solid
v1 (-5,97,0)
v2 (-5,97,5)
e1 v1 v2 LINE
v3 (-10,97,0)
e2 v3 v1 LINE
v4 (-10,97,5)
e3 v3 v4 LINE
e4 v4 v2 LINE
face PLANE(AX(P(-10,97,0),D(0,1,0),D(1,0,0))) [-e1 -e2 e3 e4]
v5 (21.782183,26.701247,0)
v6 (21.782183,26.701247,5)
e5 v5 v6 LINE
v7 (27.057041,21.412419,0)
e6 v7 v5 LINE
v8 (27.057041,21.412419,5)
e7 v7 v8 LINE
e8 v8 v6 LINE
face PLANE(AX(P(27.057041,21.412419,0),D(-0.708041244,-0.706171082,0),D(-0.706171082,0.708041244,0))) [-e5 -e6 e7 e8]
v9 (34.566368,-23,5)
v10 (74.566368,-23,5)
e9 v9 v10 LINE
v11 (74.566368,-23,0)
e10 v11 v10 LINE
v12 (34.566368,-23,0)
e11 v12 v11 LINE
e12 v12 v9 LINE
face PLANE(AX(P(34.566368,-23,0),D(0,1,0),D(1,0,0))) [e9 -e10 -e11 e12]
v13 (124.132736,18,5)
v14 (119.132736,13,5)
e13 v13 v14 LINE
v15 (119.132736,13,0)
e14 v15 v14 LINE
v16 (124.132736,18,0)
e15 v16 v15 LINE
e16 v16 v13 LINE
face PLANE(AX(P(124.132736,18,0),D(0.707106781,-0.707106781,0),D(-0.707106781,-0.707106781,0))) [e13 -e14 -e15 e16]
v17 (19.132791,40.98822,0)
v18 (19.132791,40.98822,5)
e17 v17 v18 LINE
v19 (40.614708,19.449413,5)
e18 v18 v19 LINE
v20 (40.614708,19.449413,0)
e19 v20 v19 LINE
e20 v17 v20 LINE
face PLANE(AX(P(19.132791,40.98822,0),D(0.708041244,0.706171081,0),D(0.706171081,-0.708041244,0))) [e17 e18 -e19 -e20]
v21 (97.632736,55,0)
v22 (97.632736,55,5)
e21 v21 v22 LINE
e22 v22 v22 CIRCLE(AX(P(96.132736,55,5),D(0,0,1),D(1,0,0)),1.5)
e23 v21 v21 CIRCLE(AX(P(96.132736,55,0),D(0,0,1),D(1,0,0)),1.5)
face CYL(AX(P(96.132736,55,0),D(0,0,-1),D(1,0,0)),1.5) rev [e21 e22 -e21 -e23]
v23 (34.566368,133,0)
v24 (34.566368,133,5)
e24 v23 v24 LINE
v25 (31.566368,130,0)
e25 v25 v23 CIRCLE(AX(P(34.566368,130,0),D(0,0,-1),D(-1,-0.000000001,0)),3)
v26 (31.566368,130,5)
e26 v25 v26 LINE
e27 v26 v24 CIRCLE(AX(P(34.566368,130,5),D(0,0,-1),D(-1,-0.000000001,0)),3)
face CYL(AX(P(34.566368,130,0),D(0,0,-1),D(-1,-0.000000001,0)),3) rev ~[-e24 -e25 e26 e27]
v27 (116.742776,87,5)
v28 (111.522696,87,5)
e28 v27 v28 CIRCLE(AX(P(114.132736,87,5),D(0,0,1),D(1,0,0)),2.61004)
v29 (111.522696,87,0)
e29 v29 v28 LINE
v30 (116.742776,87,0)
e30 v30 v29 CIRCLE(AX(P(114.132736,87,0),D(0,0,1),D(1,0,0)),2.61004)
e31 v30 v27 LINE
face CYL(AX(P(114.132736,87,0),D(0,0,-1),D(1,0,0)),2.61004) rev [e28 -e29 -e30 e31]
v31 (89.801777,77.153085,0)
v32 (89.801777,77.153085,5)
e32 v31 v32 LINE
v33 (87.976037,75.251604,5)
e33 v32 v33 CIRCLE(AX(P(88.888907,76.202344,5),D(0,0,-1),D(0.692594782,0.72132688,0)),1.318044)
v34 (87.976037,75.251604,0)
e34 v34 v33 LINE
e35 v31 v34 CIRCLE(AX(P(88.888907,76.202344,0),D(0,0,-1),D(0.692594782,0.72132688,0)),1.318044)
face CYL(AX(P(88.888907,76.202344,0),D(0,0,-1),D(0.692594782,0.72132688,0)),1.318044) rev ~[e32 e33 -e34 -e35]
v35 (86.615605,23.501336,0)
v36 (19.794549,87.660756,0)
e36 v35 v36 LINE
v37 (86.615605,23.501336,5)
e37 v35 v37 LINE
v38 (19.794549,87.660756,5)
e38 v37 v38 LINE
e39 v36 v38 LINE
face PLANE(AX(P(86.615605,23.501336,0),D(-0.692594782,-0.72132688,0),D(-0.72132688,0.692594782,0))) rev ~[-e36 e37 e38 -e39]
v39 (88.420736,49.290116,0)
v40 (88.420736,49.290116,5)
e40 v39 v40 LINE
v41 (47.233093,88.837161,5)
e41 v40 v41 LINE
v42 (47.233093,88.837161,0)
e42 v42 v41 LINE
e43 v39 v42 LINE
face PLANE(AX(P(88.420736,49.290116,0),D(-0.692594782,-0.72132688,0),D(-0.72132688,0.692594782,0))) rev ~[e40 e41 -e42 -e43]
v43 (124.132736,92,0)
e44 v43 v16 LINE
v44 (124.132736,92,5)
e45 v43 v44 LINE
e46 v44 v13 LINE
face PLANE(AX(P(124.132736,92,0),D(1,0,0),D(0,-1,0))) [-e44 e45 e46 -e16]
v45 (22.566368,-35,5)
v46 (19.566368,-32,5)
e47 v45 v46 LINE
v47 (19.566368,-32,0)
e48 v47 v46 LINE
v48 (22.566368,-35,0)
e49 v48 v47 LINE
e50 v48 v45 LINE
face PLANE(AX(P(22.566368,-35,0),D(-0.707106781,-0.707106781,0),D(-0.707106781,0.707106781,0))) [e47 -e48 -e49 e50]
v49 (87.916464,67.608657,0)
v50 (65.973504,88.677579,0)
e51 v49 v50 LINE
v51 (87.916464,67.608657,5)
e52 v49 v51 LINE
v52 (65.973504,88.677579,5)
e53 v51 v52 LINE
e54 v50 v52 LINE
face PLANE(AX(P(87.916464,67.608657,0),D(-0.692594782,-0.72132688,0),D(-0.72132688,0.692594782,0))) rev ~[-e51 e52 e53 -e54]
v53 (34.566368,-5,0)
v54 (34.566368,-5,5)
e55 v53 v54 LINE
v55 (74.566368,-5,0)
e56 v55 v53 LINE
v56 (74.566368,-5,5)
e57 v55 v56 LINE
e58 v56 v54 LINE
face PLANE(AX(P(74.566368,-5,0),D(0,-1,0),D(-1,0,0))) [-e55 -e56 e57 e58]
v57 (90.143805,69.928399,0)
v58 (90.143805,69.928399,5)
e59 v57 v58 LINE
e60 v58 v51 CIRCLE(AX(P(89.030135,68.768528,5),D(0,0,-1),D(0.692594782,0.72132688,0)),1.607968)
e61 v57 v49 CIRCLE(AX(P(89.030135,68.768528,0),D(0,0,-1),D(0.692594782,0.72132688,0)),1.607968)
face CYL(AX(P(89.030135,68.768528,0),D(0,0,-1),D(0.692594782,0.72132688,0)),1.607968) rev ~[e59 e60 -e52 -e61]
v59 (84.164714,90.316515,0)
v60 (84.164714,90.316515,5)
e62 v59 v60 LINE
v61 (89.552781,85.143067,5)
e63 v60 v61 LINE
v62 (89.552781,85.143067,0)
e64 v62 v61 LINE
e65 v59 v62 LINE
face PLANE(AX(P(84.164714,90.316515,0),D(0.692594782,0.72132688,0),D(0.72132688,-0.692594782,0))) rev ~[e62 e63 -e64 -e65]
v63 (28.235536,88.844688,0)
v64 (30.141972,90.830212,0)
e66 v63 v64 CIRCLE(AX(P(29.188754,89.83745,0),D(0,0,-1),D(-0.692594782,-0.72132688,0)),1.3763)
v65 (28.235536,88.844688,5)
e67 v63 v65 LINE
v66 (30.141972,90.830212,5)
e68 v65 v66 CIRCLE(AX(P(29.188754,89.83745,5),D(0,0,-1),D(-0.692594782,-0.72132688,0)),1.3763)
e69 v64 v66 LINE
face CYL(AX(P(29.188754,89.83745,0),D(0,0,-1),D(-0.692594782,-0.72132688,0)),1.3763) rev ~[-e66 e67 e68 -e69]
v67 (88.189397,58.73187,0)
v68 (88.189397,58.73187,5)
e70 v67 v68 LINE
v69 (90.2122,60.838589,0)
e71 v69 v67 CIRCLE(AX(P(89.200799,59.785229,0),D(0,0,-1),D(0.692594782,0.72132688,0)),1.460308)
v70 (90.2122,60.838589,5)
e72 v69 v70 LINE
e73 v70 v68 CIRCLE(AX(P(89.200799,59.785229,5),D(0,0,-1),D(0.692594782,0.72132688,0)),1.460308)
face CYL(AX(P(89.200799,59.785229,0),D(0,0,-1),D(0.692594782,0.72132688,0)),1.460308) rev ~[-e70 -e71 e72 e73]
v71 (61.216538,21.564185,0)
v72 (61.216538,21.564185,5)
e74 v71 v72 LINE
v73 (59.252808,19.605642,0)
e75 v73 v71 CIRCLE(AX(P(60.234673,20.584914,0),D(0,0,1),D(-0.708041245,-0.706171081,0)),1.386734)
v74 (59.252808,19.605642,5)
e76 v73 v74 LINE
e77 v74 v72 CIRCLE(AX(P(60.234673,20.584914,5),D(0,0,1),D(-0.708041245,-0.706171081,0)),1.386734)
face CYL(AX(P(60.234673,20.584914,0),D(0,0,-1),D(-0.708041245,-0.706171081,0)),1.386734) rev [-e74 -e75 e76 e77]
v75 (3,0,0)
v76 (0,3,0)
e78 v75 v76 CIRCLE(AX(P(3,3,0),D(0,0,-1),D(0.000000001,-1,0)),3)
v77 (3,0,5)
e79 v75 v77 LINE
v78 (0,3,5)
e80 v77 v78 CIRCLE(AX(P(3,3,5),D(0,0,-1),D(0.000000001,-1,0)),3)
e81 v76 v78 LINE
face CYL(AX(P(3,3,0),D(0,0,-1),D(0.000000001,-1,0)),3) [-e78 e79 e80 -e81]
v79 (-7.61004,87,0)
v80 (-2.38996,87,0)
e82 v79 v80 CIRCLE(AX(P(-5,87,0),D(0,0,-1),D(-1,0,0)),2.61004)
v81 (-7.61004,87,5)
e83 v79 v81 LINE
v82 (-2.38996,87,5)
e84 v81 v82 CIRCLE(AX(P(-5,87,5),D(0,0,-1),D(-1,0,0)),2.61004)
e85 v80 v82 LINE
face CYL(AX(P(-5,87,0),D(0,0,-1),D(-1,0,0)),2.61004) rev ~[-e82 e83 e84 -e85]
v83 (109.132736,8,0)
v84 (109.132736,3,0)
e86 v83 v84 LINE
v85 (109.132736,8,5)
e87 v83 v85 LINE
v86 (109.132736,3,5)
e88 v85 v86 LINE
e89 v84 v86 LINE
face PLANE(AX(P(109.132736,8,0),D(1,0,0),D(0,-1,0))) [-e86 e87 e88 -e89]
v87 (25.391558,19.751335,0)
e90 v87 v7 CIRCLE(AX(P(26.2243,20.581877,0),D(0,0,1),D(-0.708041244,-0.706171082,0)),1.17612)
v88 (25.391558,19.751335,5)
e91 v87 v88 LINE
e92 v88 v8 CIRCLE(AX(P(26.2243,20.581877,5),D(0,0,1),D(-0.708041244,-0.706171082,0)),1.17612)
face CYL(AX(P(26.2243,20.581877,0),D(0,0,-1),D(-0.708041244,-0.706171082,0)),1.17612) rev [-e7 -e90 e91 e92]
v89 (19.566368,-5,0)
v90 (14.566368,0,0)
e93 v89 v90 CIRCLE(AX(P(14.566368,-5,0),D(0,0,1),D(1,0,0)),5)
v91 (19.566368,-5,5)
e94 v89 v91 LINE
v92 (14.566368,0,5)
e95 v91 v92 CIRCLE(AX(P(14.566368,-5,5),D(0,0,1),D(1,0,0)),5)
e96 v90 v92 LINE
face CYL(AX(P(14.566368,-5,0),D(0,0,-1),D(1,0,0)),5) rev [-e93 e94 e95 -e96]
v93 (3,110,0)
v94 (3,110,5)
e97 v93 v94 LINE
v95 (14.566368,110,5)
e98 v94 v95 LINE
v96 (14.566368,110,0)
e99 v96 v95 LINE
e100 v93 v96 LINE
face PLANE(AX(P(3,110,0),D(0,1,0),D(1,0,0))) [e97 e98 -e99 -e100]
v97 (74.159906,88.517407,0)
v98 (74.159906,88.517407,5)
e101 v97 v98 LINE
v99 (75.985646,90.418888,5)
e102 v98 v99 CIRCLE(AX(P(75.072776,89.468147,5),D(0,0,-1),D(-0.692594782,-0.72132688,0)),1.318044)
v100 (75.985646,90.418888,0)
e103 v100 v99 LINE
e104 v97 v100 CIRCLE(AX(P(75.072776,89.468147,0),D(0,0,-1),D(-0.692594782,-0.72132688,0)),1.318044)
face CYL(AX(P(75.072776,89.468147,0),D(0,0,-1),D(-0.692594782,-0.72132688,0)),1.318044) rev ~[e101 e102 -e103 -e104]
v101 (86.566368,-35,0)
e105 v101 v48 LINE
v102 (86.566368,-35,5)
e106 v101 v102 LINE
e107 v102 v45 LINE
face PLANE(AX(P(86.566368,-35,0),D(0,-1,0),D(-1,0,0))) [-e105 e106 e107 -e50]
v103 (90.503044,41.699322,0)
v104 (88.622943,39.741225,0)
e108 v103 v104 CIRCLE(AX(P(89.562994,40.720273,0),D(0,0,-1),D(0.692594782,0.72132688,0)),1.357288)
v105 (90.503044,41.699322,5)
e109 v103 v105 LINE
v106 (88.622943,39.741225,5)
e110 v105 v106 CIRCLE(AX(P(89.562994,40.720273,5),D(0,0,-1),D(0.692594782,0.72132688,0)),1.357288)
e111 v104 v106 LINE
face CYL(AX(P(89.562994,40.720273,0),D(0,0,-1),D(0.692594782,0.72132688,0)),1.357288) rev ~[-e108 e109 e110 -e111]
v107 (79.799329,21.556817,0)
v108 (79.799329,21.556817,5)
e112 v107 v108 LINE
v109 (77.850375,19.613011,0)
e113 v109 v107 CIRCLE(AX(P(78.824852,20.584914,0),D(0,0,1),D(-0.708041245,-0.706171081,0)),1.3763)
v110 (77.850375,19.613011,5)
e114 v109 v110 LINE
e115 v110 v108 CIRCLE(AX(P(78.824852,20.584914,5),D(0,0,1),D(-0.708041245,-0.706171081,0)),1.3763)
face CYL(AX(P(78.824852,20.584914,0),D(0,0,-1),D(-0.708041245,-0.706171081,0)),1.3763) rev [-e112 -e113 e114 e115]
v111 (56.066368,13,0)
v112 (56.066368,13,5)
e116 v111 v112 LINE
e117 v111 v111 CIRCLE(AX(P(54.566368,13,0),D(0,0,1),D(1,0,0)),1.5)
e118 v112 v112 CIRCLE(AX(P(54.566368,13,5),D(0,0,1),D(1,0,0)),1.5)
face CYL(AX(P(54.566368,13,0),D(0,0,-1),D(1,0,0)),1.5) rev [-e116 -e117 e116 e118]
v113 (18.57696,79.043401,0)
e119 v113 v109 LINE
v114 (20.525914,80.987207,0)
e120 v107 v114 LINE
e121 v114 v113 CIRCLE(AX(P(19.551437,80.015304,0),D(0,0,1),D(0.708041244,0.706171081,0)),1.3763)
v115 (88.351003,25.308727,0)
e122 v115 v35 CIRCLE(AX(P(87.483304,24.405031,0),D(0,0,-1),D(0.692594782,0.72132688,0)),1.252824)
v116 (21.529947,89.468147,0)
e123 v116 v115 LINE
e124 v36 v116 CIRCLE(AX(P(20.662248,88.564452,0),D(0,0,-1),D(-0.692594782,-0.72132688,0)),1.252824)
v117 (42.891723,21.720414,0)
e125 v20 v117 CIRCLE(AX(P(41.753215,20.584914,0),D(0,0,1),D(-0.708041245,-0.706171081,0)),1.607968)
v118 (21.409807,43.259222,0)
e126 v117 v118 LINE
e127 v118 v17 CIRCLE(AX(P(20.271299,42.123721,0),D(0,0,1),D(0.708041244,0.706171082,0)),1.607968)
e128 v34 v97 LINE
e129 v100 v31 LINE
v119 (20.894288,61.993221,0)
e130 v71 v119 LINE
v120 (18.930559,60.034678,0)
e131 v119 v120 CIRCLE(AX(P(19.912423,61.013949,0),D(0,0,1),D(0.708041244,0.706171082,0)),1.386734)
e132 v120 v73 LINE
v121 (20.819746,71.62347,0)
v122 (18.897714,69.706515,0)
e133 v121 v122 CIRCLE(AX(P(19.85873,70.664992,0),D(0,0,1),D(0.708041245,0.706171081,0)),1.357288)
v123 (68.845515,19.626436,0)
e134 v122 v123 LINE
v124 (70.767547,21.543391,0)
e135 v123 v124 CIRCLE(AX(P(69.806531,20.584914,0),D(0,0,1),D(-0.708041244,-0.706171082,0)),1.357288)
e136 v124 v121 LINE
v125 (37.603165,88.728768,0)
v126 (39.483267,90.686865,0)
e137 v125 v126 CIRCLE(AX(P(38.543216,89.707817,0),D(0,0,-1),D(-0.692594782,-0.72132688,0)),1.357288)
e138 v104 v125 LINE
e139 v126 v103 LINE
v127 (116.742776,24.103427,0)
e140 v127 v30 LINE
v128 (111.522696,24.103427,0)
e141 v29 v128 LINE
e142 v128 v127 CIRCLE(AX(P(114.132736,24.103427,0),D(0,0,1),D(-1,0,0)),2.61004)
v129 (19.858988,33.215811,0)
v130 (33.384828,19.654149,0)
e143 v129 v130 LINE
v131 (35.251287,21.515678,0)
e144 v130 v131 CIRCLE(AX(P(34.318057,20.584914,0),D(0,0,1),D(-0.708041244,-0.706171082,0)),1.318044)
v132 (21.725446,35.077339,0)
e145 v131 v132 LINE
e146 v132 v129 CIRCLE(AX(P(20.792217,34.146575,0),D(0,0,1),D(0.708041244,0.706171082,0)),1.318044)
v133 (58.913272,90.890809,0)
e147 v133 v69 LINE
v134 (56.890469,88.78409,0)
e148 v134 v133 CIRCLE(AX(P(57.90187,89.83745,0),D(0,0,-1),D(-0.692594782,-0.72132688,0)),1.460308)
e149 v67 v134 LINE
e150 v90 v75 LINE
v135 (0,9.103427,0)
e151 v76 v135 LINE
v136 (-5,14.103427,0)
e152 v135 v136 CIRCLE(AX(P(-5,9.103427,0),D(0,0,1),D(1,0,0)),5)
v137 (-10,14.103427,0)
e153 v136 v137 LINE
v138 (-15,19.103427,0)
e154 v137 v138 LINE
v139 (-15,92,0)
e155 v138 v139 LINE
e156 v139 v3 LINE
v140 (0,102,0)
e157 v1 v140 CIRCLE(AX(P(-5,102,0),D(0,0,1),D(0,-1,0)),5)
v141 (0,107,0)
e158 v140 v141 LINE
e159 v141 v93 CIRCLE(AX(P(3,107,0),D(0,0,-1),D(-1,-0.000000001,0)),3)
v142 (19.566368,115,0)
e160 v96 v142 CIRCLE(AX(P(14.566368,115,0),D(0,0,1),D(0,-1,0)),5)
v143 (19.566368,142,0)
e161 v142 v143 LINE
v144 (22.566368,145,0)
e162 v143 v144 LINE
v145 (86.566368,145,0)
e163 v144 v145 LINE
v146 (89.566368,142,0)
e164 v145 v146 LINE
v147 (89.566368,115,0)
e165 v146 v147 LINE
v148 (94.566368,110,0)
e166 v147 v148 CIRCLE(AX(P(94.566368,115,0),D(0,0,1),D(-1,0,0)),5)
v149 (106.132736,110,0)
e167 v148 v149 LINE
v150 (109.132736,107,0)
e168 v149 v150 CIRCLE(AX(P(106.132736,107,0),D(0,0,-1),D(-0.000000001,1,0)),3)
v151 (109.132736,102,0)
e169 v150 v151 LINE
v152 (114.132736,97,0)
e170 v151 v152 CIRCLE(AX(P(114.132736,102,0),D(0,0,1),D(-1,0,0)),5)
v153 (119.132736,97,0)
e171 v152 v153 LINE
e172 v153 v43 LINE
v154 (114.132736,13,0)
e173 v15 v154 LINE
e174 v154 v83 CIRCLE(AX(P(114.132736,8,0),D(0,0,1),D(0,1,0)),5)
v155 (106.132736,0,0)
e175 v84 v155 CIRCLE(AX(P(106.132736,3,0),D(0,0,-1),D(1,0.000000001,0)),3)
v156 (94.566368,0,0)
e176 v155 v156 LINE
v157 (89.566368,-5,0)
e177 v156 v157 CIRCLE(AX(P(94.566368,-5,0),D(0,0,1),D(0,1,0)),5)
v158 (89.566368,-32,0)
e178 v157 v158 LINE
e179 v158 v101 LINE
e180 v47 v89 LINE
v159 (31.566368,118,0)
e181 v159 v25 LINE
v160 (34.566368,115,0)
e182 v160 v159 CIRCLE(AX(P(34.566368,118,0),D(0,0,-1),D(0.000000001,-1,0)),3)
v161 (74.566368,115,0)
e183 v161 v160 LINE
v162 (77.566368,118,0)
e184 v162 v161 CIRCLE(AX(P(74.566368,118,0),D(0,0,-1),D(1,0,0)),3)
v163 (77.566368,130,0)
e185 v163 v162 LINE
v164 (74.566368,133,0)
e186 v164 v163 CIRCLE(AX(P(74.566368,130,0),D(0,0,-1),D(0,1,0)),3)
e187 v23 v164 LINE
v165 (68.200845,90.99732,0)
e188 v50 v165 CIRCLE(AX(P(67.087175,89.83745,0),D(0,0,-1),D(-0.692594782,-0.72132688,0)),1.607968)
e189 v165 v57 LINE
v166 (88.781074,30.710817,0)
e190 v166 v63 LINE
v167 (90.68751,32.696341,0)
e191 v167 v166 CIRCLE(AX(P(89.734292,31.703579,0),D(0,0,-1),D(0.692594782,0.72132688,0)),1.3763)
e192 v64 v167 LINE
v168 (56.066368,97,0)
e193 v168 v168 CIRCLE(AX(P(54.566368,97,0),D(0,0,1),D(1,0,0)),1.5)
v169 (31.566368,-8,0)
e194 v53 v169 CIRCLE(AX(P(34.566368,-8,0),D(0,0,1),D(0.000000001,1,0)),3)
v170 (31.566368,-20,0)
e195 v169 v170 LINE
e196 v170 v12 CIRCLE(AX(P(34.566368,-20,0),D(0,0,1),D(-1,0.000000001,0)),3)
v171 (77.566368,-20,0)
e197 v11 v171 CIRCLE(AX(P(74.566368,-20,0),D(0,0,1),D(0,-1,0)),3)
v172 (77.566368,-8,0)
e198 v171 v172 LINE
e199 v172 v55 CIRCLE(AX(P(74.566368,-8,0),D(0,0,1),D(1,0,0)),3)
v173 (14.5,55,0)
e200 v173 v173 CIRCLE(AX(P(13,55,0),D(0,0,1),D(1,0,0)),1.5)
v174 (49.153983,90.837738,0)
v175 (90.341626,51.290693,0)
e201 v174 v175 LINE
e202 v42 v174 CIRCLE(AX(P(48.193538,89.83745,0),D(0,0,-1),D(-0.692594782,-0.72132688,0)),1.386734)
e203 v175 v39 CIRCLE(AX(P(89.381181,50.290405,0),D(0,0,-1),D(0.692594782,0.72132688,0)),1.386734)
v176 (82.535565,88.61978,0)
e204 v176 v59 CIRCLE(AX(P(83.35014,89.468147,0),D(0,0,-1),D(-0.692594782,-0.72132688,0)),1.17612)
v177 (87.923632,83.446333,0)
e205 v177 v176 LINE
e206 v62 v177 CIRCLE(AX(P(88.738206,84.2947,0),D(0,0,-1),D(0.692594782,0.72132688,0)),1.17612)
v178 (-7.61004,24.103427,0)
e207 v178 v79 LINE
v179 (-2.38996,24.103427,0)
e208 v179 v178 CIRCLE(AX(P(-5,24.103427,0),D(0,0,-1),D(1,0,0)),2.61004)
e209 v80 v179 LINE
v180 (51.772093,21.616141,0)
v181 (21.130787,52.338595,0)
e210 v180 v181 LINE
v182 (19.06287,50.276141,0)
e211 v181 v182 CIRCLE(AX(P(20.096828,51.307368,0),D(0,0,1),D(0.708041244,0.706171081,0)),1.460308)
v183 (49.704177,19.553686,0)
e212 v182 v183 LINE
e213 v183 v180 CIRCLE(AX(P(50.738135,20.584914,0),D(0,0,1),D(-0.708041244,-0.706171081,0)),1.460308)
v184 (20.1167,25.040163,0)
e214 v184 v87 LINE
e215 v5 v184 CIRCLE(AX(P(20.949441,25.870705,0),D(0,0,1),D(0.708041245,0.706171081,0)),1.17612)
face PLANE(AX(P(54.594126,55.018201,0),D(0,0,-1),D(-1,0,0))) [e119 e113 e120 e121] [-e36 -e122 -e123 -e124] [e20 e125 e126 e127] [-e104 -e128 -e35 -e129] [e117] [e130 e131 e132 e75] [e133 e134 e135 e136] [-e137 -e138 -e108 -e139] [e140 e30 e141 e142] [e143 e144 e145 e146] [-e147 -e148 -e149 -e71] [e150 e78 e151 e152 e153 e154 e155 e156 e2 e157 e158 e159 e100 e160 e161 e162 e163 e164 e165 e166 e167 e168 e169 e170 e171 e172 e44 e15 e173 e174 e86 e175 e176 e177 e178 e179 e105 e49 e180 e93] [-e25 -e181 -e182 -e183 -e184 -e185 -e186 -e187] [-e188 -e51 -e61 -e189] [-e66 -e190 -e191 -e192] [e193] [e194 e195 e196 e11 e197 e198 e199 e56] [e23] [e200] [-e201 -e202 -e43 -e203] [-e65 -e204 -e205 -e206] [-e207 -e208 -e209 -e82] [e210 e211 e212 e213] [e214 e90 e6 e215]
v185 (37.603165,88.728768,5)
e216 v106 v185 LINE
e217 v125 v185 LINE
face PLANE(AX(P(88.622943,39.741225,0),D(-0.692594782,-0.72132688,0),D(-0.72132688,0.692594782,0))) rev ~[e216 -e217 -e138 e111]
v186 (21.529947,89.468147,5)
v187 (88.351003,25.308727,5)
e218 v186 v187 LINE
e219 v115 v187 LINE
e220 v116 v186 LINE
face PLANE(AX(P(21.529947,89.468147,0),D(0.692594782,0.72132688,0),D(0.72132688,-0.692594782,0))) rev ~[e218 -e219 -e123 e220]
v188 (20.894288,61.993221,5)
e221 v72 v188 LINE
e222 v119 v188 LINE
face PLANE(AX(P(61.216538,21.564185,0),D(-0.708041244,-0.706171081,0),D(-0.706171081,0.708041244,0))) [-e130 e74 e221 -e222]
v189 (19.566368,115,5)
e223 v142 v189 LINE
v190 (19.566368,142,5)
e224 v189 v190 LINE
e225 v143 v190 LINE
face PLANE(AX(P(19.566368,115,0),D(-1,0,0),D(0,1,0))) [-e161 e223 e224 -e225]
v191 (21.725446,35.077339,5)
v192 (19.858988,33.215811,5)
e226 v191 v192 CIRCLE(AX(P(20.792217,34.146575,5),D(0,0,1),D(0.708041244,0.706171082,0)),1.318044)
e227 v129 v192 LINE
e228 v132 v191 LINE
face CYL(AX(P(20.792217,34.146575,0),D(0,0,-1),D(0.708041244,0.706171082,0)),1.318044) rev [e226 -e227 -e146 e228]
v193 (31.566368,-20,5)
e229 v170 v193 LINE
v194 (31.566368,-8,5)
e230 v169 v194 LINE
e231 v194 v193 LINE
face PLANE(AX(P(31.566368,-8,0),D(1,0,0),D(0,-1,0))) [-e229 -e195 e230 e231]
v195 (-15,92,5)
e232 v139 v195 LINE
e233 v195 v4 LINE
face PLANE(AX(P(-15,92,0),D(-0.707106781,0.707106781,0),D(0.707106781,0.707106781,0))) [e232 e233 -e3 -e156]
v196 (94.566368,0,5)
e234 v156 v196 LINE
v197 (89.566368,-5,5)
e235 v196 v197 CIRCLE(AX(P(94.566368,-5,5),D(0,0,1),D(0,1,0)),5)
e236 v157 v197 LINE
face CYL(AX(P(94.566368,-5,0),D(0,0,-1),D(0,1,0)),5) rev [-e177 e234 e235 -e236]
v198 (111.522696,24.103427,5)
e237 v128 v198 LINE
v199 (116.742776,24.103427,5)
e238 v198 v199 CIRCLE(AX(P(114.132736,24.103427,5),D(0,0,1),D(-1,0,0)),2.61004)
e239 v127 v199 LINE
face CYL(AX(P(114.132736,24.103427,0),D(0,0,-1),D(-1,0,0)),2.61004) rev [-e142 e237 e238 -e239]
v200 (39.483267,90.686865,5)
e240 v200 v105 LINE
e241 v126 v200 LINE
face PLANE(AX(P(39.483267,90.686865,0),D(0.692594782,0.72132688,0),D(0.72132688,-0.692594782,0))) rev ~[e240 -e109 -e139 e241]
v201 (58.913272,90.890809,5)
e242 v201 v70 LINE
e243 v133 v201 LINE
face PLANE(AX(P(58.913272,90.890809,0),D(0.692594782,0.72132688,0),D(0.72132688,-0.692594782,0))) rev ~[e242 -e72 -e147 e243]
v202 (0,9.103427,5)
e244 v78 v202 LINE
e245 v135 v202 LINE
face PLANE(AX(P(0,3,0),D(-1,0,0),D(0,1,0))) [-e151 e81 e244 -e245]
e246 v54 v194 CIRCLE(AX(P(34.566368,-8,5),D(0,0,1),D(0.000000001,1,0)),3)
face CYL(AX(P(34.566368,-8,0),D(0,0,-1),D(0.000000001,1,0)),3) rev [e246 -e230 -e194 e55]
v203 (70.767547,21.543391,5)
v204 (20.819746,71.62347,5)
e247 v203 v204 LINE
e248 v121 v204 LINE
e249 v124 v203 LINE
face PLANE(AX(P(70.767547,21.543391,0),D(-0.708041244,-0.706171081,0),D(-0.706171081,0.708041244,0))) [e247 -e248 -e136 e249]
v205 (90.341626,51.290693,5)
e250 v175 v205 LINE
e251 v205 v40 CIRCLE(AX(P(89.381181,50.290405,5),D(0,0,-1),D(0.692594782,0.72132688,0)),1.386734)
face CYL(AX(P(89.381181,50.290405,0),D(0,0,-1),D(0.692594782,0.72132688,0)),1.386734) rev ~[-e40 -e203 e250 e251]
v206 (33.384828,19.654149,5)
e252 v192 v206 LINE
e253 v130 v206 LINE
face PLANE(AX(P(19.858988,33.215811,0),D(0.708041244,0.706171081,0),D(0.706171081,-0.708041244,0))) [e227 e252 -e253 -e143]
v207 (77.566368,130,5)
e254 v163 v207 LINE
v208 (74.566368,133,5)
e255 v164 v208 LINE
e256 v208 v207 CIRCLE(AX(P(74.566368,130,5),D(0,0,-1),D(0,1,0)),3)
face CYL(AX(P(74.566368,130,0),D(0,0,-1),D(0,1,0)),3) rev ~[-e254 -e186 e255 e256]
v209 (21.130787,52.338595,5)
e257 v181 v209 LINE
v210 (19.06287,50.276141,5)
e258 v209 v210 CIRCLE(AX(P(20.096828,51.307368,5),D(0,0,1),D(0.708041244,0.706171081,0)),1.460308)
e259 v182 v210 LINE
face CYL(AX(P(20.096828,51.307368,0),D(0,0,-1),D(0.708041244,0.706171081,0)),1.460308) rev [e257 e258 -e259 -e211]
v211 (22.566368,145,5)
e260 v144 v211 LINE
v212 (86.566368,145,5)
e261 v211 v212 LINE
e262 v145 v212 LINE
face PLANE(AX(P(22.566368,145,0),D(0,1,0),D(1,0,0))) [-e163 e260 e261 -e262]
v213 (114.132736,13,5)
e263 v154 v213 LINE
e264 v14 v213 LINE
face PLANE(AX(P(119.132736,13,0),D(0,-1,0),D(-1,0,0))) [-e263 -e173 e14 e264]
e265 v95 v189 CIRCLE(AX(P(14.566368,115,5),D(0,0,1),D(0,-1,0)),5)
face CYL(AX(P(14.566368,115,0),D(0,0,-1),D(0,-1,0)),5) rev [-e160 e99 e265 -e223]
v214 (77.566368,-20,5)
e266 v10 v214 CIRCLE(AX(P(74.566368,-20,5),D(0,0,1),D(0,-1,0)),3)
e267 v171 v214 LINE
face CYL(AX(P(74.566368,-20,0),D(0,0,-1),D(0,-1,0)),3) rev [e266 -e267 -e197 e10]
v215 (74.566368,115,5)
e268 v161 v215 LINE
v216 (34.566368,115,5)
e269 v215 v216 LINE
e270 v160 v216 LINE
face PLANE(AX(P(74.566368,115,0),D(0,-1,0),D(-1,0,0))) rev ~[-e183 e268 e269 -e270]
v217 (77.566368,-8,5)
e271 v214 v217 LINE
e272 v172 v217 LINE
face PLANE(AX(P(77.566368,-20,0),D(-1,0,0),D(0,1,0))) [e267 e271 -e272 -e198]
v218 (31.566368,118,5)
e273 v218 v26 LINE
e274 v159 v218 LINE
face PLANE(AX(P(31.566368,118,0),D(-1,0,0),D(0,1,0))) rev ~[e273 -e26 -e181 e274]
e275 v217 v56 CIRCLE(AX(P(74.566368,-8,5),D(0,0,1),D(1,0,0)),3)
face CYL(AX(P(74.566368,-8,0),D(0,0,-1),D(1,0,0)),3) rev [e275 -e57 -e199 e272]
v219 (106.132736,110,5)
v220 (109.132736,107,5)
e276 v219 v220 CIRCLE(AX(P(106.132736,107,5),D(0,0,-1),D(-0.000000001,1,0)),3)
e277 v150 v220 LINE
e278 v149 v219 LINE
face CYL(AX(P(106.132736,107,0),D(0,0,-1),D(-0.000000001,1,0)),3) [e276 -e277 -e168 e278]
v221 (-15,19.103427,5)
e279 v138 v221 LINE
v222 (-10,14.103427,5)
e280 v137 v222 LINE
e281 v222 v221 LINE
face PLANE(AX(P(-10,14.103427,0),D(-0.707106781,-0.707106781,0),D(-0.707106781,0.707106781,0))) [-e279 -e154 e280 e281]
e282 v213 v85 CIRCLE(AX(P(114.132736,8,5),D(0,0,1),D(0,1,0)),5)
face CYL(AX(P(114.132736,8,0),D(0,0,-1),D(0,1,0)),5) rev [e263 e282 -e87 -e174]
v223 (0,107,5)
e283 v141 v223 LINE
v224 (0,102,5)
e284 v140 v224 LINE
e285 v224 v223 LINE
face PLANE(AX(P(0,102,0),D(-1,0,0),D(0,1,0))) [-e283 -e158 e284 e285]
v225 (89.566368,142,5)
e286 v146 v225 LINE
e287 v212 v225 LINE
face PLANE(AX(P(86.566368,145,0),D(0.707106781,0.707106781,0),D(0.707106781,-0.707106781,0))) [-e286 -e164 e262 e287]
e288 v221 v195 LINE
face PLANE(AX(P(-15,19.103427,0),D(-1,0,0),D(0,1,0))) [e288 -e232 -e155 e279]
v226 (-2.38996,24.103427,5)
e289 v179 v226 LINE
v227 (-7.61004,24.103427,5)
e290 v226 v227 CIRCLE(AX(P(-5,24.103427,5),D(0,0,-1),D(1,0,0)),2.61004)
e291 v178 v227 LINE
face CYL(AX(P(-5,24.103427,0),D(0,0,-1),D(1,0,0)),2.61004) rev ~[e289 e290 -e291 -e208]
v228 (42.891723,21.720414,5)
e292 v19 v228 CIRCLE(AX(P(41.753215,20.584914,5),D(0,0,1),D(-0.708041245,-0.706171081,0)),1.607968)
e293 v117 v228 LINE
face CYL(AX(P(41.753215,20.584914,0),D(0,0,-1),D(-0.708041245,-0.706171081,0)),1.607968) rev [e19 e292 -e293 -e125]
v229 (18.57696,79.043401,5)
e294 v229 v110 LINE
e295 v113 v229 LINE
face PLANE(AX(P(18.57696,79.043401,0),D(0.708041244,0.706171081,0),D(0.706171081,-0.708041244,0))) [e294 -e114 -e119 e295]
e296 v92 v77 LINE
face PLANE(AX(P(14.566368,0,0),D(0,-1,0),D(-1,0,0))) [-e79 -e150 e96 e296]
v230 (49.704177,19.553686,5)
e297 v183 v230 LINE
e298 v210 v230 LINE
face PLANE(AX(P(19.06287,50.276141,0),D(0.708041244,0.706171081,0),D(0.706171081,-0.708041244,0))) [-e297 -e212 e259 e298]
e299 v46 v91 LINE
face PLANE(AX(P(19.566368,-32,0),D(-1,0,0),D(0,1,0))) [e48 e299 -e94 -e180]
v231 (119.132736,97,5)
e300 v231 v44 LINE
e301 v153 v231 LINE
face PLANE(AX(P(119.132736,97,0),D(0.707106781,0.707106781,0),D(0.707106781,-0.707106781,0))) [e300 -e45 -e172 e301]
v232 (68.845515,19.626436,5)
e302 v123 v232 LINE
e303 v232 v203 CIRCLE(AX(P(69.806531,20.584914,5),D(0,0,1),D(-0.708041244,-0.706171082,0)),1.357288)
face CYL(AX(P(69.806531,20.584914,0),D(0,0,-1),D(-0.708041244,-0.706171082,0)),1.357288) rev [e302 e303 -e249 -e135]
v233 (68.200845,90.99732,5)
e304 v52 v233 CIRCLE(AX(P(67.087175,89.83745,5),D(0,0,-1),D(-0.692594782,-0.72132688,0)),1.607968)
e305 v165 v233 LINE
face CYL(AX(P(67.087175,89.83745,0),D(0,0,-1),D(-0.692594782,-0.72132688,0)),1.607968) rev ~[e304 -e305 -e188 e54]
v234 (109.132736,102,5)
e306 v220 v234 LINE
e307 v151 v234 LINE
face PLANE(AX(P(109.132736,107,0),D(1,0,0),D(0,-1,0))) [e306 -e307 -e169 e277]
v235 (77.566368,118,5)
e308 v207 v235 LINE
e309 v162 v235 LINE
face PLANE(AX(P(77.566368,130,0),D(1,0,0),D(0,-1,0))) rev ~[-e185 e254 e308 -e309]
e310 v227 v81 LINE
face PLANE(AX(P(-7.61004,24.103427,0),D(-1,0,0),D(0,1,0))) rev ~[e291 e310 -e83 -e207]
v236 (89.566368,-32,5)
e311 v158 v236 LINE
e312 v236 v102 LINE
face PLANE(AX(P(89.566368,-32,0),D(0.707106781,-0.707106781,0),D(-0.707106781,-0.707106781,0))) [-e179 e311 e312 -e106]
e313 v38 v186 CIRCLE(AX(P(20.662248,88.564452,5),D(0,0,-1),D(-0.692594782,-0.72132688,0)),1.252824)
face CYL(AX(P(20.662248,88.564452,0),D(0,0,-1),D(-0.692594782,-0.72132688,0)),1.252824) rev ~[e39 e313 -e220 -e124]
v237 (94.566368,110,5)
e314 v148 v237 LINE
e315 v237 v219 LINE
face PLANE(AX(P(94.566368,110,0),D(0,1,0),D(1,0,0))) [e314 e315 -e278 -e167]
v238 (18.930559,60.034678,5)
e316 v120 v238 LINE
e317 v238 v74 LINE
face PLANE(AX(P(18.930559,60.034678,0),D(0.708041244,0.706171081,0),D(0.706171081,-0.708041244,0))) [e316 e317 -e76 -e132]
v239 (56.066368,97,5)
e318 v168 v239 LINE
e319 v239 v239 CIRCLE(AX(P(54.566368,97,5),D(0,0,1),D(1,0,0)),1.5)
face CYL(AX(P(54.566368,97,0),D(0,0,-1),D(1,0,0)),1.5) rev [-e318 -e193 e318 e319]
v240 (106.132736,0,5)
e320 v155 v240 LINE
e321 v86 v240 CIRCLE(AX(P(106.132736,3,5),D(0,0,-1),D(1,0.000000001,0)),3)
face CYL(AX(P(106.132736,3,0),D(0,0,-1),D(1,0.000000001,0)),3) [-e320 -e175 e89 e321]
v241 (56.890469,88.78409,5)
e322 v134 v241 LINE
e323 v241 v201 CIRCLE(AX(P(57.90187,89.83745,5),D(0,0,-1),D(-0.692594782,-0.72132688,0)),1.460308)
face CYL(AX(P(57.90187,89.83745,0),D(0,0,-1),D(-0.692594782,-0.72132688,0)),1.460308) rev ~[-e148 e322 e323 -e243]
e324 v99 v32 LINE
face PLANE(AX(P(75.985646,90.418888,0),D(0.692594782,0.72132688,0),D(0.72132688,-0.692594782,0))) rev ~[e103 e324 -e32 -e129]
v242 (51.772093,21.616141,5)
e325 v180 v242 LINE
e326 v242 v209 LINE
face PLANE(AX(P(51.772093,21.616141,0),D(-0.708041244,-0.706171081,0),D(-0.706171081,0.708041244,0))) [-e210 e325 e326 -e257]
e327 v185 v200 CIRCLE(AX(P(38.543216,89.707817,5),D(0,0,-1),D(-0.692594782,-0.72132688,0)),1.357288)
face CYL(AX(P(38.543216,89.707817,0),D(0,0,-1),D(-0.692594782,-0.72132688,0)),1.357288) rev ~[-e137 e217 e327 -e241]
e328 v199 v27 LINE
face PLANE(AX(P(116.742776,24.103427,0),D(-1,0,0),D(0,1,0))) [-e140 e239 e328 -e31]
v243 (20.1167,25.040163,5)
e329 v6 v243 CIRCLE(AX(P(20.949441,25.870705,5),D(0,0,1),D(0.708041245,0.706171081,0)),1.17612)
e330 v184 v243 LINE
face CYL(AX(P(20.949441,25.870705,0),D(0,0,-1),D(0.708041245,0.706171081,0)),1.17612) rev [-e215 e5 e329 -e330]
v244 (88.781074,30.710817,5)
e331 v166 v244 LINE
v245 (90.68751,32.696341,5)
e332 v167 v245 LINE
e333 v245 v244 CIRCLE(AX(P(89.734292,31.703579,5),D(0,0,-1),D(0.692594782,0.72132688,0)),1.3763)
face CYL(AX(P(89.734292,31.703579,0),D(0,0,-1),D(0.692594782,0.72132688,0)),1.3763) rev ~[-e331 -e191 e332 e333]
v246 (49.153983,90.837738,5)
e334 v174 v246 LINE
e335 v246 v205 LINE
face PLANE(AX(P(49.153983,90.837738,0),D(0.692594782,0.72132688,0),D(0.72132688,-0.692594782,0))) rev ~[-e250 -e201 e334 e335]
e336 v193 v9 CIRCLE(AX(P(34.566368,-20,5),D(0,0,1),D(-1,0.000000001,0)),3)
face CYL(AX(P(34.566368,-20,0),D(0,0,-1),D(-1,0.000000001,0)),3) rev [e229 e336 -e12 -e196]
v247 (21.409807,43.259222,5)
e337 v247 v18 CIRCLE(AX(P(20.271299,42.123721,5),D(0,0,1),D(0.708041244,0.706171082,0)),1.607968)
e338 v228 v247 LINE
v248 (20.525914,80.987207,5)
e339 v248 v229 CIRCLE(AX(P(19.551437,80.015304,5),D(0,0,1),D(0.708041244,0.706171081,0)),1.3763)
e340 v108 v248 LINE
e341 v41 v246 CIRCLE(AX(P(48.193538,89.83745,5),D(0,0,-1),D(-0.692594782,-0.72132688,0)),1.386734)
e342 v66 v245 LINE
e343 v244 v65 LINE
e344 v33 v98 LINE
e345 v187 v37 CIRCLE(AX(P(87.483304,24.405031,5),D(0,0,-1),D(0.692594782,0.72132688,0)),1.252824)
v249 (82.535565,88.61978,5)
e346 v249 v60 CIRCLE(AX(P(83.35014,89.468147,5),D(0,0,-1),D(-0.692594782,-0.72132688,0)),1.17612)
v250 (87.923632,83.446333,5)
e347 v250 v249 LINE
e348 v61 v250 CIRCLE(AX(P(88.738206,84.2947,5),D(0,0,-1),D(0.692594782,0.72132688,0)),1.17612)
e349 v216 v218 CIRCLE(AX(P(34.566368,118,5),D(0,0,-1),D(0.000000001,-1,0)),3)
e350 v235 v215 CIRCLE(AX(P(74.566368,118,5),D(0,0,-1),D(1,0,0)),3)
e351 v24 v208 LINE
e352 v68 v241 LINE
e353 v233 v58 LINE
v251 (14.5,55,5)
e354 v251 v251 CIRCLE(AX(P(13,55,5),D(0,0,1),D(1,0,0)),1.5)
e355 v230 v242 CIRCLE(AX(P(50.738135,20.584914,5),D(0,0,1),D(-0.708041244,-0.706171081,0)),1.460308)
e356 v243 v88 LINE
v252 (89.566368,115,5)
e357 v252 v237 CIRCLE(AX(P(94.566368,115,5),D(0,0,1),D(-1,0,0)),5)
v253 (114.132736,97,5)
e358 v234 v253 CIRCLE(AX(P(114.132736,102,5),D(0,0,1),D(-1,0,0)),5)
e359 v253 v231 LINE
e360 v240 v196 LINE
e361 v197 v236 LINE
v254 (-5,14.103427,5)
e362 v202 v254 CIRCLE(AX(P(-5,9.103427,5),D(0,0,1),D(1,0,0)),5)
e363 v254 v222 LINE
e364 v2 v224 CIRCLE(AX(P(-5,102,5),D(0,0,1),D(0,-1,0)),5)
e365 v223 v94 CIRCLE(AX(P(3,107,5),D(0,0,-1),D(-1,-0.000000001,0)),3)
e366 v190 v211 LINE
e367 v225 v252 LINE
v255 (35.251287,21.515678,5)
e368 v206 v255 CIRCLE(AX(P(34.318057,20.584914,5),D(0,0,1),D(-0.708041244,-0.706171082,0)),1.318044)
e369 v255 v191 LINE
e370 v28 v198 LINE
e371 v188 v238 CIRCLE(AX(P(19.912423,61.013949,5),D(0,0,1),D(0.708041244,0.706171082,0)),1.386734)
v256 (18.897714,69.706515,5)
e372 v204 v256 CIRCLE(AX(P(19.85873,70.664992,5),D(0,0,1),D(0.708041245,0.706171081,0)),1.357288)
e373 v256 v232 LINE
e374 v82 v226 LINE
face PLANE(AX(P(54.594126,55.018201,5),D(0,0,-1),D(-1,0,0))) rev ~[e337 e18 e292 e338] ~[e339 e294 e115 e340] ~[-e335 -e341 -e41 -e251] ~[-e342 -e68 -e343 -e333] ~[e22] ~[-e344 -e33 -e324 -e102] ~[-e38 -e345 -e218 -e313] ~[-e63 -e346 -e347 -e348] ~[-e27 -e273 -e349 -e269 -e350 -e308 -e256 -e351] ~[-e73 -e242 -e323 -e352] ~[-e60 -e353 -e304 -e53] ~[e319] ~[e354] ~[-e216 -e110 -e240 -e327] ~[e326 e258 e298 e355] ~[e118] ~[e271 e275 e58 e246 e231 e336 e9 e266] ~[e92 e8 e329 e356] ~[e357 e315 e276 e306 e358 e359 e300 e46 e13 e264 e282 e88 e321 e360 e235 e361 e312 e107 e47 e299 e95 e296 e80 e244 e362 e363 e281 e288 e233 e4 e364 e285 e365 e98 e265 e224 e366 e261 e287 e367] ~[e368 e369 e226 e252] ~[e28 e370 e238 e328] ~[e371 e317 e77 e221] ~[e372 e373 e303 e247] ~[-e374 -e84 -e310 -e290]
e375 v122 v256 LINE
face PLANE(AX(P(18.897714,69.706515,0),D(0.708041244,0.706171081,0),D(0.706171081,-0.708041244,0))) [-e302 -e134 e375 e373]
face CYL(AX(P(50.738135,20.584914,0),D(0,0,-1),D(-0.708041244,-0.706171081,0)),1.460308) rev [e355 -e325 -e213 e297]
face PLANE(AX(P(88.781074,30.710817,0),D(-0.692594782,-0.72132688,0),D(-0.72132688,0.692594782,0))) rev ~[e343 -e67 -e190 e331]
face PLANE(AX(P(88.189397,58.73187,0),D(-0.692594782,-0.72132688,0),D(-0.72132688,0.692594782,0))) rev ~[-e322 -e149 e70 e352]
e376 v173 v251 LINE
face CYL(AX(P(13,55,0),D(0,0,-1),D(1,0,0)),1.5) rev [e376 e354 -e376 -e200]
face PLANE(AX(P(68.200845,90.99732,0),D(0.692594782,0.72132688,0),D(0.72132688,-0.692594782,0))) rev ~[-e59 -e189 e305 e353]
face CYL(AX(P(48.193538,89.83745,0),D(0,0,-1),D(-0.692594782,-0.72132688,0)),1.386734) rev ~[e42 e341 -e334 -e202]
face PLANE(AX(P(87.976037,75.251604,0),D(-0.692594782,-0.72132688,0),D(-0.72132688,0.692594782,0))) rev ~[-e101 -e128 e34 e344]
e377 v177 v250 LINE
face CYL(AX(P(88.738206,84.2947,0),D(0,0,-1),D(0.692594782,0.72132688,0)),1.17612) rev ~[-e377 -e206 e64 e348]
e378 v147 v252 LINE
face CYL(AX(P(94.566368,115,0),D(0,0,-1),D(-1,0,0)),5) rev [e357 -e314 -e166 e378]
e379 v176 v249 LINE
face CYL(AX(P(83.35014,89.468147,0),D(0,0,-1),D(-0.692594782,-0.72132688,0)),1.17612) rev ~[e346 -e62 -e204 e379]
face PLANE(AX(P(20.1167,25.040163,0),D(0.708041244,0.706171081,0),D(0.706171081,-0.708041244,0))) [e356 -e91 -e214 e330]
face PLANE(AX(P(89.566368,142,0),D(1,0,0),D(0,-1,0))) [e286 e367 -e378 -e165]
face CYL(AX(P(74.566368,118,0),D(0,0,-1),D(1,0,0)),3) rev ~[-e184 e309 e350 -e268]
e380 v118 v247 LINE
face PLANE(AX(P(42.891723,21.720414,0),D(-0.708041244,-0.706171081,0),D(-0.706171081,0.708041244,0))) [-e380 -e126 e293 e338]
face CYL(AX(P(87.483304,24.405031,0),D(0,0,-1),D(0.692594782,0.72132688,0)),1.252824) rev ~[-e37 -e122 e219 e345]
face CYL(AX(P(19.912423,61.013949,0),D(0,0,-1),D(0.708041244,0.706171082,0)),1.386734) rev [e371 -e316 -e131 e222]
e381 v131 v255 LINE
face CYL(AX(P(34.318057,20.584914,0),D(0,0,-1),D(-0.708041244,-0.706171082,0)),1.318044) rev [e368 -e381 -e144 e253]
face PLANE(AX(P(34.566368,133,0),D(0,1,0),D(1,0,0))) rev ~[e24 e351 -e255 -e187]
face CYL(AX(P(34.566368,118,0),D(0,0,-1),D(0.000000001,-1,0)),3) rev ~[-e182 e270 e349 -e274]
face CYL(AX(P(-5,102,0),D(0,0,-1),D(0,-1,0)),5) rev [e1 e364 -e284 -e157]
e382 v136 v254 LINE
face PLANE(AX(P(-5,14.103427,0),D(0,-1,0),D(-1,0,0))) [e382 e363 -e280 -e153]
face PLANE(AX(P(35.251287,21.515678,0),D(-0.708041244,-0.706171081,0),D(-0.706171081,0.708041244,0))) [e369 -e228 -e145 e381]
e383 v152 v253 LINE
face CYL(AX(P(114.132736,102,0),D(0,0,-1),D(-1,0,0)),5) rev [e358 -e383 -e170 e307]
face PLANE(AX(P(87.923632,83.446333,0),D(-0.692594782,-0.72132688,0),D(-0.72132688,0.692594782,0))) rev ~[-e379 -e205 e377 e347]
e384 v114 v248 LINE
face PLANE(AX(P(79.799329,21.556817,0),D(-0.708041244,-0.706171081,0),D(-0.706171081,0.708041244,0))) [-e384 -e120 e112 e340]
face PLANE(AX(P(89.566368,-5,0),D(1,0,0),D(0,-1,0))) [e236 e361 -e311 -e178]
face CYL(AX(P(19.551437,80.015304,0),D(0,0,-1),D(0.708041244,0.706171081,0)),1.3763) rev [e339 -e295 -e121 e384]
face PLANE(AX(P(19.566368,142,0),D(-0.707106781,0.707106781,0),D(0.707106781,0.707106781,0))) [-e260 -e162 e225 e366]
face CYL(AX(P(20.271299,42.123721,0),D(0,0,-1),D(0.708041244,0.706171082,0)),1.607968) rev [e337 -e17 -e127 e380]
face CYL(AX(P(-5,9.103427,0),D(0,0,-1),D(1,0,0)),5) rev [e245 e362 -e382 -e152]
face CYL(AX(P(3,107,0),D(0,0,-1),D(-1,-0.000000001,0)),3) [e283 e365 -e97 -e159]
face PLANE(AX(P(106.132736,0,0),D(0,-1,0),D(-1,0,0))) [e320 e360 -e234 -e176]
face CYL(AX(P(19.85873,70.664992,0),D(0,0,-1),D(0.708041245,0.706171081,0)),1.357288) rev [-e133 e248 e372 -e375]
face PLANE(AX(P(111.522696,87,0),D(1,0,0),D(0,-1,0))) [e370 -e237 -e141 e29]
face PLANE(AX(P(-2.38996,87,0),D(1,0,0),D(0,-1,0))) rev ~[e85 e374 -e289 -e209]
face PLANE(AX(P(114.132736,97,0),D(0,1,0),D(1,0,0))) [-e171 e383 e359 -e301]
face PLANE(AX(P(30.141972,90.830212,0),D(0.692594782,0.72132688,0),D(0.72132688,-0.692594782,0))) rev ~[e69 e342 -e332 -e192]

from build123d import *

# Parameters (mm, degrees)
SKETCH1_R           = 1.5
BOSS_EXTRUDE1_DEPTH = 5


with BuildPart() as part:
    # Sketch1 → Boss-Extrude1 (new body)
    with BuildSketch(Plane.XY):
        with BuildLine():
            Line((-15, 92), (-10, 97))
            Line((-10, 97), (-5, 97))
            ThreePointArc((-5, 97), (-1.464466094, 98.464466094), (0, 102))
            Line((0, 102), (0, 107))
            ThreePointArc((0, 107), (0.878679656, 109.121320344), (3, 110))
            Line((3, 110), (14.566367929, 110))
            ThreePointArc((14.566367929, 110), (18.101901835, 111.464466094), (19.566367929, 115))
            Line((19.566367929, 115), (19.566367929, 142))
            Line((19.566367929, 142), (22.566367929, 145))
            Line((22.566367929, 145), (86.566367929, 145))
            Line((86.566367929, 145), (89.566367929, 142))
            Line((89.566367929, 142), (89.566367929, 115))
            ThreePointArc((89.566367929, 115), (91.030834023, 111.464466094), (94.566367929, 110))
            Line((94.566367929, 110), (106.132735857, 110))
            ThreePointArc((106.132735857, 110), (108.254056201, 109.121320344), (109.132735857, 107))
            Line((109.132735857, 107), (109.132735857, 102))
            ThreePointArc((109.132735857, 102), (110.597201951, 98.464466094), (114.132735857, 97))
            Line((114.132735857, 97), (119.132735857, 97))
            Line((119.132735857, 97), (124.132735857, 92))
            Line((124.132735857, 92), (124.132735857, 18))
            Line((124.132735857, 18), (119.132735857, 13))
            Line((119.132735857, 13), (114.132735857, 13))
            ThreePointArc((114.132735857, 13), (110.597201951, 11.535533906), (109.132735857, 8))
            Line((109.132735857, 8), (109.132735857, 3))
            ThreePointArc((109.132735857, 3), (108.254056201, 0.878679656), (106.132735857, 0))
            Line((106.132735857, 0), (94.566367929, 0))
            ThreePointArc((94.566367929, 0), (91.030834023, -1.464466094), (89.566367929, -5))
            Line((89.566367929, -5), (89.566367929, -32))
            Line((89.566367929, -32), (86.566367929, -35))
            Line((86.566367929, -35), (22.566367929, -35))
            Line((22.566367929, -35), (19.566367929, -32))
            Line((19.566367929, -32), (19.566367929, -5))
            ThreePointArc((19.566367929, -5), (18.101901835, -1.464466094), (14.566367929, 0))
            Line((14.566367929, 0), (3, 0))
            ThreePointArc((3, 0), (0.878679656, 0.878679656), (0, 3))
            Line((0, 3), (0, 9.1034271))
            ThreePointArc((0, 9.1034271), (-1.464466094, 12.638961006), (-5, 14.1034271))
            Line((-5, 14.1034271), (-10, 14.1034271))
            Line((-10, 14.1034271), (-15, 19.1034271))
            Line((-15, 19.1034271), (-15, 92))
        make_face()
        with Locations((54.566367929, 97)):
            Circle(SKETCH1_R, mode=Mode.SUBTRACT)
        with Locations((54.566367929, 13)):
            Circle(SKETCH1_R, mode=Mode.SUBTRACT)
        with Locations((96.132735857, 55)):
            Circle(SKETCH1_R, mode=Mode.SUBTRACT)
        with Locations((13, 55)):
            Circle(SKETCH1_R, mode=Mode.SUBTRACT)
        with BuildLine():
            Line((34.566367929, 133), (74.566367929, 133))
            ThreePointArc((74.566367929, 133), (76.687688272, 132.121320344), (77.566367929, 130))
            Line((77.566367929, 130), (77.566367929, 118))
            ThreePointArc((77.566367929, 118), (76.687688272, 115.878679656), (74.566367929, 115))
            Line((74.566367929, 115), (34.566367929, 115))
            ThreePointArc((34.566367929, 115), (32.445047585, 115.878679656), (31.566367929, 118))
            Line((31.566367929, 118), (31.566367929, 130))
            ThreePointArc((31.566367929, 130), (32.445047585, 132.121320344), (34.566367929, 133))
        make_face(mode=Mode.SUBTRACT)
        with BuildLine():
            Line((34.566367929, -23), (74.566367929, -23))
            ThreePointArc((74.566367929, -23), (76.687688272, -22.121320344), (77.566367929, -20))
            Line((77.566367929, -20), (77.566367929, -8))
            ThreePointArc((77.566367929, -8), (76.687688272, -5.878679656), (74.566367929, -5))
            Line((74.566367929, -5), (34.566367929, -5))
            ThreePointArc((34.566367929, -5), (32.445047585, -5.878679656), (31.566367929, -8))
            Line((31.566367929, -8), (31.566367929, -20))
            ThreePointArc((31.566367929, -20), (32.445047585, -22.121320344), (34.566367929, -23))
        make_face(mode=Mode.SUBTRACT)
        with BuildLine():
            Line((-7.610040083, 24.1034271), (-7.610040083, 87))
            ThreePointArc((-7.610040083, 87), (-5, 89.610040083), (-2.389959917, 87))
            Line((-2.389959917, 87), (-2.389959917, 24.1034271))
            ThreePointArc((-2.389959917, 24.1034271), (-5, 21.493387017), (-7.610040083, 24.1034271))
        make_face(mode=Mode.SUBTRACT)
        with BuildLine():
            Line((116.74277594, 24.1034271), (116.74277594, 87))
            ThreePointArc((116.74277594, 87), (114.132735857, 89.610040083), (111.522695774, 87))
            Line((111.522695774, 87), (111.522695774, 24.1034271))
            ThreePointArc((111.522695774, 24.1034271), (114.132735857, 21.493387017), (116.74277594, 24.1034271))
        make_face(mode=Mode.SUBTRACT)
        with BuildLine():
            Line((21.529947274, 89.468147489), (88.351003471, 25.308726653))
            ThreePointArc((88.351003471, 25.308726653), (88.386999729, 23.537331865), (86.615604941, 23.501335607))
            Line((86.615604941, 23.501335607), (19.794548743, 87.660756443))
            ThreePointArc((19.794548743, 87.660756443), (19.758552485, 89.432151231), (21.529947274, 89.468147489))
        make_face(mode=Mode.SUBTRACT)
        with BuildLine():
            Line((30.141972391, 90.830211564), (90.687510201, 32.696340879))
            ThreePointArc((90.687510201, 32.696340879), (90.727054178, 30.750360947), (88.781074246, 30.71081697))
            Line((88.781074246, 30.71081697), (28.235536436, 88.844687655))
            ThreePointArc((28.235536436, 88.844687655), (28.195992459, 90.790667587), (30.141972391, 90.830211564))
        make_face(mode=Mode.SUBTRACT)
        with BuildLine():
            Line((39.483266545, 90.686865308), (90.503044374, 41.699321816))
            ThreePointArc((90.503044374, 41.699321816), (90.542042113, 39.780222555), (88.622942851, 39.741224816))
            Line((88.622942851, 39.741224816), (37.603165023, 88.728768307))
            ThreePointArc((37.603165023, 88.728768307), (37.564167284, 90.647867569), (39.483266545, 90.686865308))
        make_face(mode=Mode.SUBTRACT)
        with BuildLine():
            Line((49.153982666, 90.837738164), (90.341625616, 51.290693151))
            ThreePointArc((90.341625616, 51.290693151), (90.381469395, 49.329959822), (88.420736066, 49.290116043))
            Line((88.420736066, 49.290116043), (47.233093116, 88.837161056))
            ThreePointArc((47.233093116, 88.837161056), (47.193249337, 90.797894385), (49.153982666, 90.837738164))
        make_face(mode=Mode.SUBTRACT)
        with BuildLine():
            Line((58.913272098, 90.890808974), (90.212200397, 60.838588511))
            ThreePointArc((90.212200397, 60.838588511), (90.254158107, 58.773827493), (88.189397089, 58.731869782))
            Line((88.189397089, 58.731869782), (56.89046879, 88.784090246))
            ThreePointArc((56.89046879, 88.784090246), (56.84851108, 90.848851264), (58.913272098, 90.890808974))
        make_face(mode=Mode.SUBTRACT)
        with BuildLine():
            Line((68.200844973, 90.997320319), (90.14380499, 69.928398542))
            ThreePointArc((90.14380499, 69.928398542), (90.190005291, 67.654857424), (87.916464173, 67.608657123))
            Line((87.916464173, 67.608657123), (65.973504156, 88.677578901))
            ThreePointArc((65.973504156, 88.677578901), (65.927303856, 90.951120018), (68.200844973, 90.997320319))
        make_face(mode=Mode.SUBTRACT)
        with BuildLine():
            Line((75.985646215, 90.418887754), (89.801777498, 77.153084552))
            ThreePointArc((89.801777498, 77.153084552), (89.839647655, 75.289474178), (87.976037281, 75.251604021))
            Line((87.976037281, 75.251604021), (74.159905999, 88.517407223))
            ThreePointArc((74.159905999, 88.517407223), (74.122035842, 90.381017597), (75.985646215, 90.418887754))
        make_face(mode=Mode.SUBTRACT)
        with BuildLine():
            Line((84.164714184, 90.316514556), (89.552781085, 85.143066673))
            ThreePointArc((89.552781085, 85.143066673), (89.586573484, 83.480124936), (87.923631748, 83.446332537))
            Line((87.923631748, 83.446332537), (82.535564847, 88.619780421))
            ThreePointArc((82.535564847, 88.619780421), (82.501772448, 90.282722157), (84.164714184, 90.316514556))
        make_face(mode=Mode.SUBTRACT)
        with BuildLine():
            Line((20.116699843, 25.040162824), (25.391558074, 19.751335111))
            ThreePointArc((25.391558074, 19.751335111), (27.054841666, 19.749135575), (27.057041202, 21.412419167))
            Line((27.057041202, 21.412419167), (21.782182971, 26.701246879))
            ThreePointArc((21.782182971, 26.701246879), (20.118899379, 26.703446416), (20.116699843, 25.040162824))
        make_face(mode=Mode.SUBTRACT)
        with BuildLine():
            Line((19.858987713, 33.215810662), (33.384828271, 19.654149429))
            ThreePointArc((33.384828271, 19.654149429), (35.248821752, 19.651684473), (35.251286708, 21.515677954))
            Line((35.251286708, 21.515677954), (21.72544615, 35.077339187))
            ThreePointArc((21.72544615, 35.077339187), (19.861452669, 35.079804143), (19.858987713, 33.215810662))
        make_face(mode=Mode.SUBTRACT)
        with BuildLine():
            Line((19.132791007, 40.988220389), (40.614707507, 19.449413025))
            ThreePointArc((40.614707507, 19.449413025), (42.888716002, 19.446405862), (42.891723164, 21.720414358))
            Line((42.891723164, 21.720414358), (21.409806664, 43.259221722))
            ThreePointArc((21.409806664, 43.259221722), (19.135798169, 43.262228884), (19.132791007, 40.988220389))
        make_face(mode=Mode.SUBTRACT)
        with BuildLine():
            Line((19.062870224, 50.276140805), (49.704176763, 19.55368646))
            ThreePointArc((49.704176763, 19.55368646), (51.76936224, 19.550955446), (51.772093254, 21.616140923))
            Line((51.772093254, 21.616140923), (21.130786715, 52.338595268))
            ThreePointArc((21.130786715, 52.338595268), (19.065601238, 52.341326282), (19.062870224, 50.276140805))
        make_face(mode=Mode.SUBTRACT)
        with BuildLine():
            Line((18.930558524, 60.034677598), (59.252807938, 19.6056422))
            ThreePointArc((59.252807938, 19.6056422), (61.21394434, 19.603048781), (61.216537759, 21.564185183))
            Line((61.216537759, 21.564185183), (20.894288344, 61.993220582))
            ThreePointArc((20.894288344, 61.993220582), (18.933151942, 61.995814), (18.930558524, 60.034677598))
        make_face(mode=Mode.SUBTRACT)
        with BuildLine():
            Line((18.897713631, 69.706514762), (68.845514944, 19.626435978))
            ThreePointArc((68.845514944, 19.626435978), (70.76500872, 19.623897628), (70.76754707, 21.543391404))
            Line((70.76754707, 21.543391404), (20.819745757, 71.623470187))
            ThreePointArc((20.819745757, 71.623470187), (18.900251981, 71.626008538), (18.897713631, 69.706514762))
        make_face(mode=Mode.SUBTRACT)
        with BuildLine():
            Line((18.576959915, 79.043400842), (77.850375474, 19.613010658))
            ThreePointArc((77.850375474, 19.613010658), (79.796755446, 19.610436753), (79.79932935, 21.556816725))
            Line((79.79932935, 21.556816725), (20.525913792, 80.98720691))
            ThreePointArc((20.525913792, 80.98720691), (18.57953382, 80.989780815), (18.576959915, 79.043400842))
        make_face(mode=Mode.SUBTRACT)
    extrude(amount=BOSS_EXTRUDE1_DEPTH)


solid = part.part
